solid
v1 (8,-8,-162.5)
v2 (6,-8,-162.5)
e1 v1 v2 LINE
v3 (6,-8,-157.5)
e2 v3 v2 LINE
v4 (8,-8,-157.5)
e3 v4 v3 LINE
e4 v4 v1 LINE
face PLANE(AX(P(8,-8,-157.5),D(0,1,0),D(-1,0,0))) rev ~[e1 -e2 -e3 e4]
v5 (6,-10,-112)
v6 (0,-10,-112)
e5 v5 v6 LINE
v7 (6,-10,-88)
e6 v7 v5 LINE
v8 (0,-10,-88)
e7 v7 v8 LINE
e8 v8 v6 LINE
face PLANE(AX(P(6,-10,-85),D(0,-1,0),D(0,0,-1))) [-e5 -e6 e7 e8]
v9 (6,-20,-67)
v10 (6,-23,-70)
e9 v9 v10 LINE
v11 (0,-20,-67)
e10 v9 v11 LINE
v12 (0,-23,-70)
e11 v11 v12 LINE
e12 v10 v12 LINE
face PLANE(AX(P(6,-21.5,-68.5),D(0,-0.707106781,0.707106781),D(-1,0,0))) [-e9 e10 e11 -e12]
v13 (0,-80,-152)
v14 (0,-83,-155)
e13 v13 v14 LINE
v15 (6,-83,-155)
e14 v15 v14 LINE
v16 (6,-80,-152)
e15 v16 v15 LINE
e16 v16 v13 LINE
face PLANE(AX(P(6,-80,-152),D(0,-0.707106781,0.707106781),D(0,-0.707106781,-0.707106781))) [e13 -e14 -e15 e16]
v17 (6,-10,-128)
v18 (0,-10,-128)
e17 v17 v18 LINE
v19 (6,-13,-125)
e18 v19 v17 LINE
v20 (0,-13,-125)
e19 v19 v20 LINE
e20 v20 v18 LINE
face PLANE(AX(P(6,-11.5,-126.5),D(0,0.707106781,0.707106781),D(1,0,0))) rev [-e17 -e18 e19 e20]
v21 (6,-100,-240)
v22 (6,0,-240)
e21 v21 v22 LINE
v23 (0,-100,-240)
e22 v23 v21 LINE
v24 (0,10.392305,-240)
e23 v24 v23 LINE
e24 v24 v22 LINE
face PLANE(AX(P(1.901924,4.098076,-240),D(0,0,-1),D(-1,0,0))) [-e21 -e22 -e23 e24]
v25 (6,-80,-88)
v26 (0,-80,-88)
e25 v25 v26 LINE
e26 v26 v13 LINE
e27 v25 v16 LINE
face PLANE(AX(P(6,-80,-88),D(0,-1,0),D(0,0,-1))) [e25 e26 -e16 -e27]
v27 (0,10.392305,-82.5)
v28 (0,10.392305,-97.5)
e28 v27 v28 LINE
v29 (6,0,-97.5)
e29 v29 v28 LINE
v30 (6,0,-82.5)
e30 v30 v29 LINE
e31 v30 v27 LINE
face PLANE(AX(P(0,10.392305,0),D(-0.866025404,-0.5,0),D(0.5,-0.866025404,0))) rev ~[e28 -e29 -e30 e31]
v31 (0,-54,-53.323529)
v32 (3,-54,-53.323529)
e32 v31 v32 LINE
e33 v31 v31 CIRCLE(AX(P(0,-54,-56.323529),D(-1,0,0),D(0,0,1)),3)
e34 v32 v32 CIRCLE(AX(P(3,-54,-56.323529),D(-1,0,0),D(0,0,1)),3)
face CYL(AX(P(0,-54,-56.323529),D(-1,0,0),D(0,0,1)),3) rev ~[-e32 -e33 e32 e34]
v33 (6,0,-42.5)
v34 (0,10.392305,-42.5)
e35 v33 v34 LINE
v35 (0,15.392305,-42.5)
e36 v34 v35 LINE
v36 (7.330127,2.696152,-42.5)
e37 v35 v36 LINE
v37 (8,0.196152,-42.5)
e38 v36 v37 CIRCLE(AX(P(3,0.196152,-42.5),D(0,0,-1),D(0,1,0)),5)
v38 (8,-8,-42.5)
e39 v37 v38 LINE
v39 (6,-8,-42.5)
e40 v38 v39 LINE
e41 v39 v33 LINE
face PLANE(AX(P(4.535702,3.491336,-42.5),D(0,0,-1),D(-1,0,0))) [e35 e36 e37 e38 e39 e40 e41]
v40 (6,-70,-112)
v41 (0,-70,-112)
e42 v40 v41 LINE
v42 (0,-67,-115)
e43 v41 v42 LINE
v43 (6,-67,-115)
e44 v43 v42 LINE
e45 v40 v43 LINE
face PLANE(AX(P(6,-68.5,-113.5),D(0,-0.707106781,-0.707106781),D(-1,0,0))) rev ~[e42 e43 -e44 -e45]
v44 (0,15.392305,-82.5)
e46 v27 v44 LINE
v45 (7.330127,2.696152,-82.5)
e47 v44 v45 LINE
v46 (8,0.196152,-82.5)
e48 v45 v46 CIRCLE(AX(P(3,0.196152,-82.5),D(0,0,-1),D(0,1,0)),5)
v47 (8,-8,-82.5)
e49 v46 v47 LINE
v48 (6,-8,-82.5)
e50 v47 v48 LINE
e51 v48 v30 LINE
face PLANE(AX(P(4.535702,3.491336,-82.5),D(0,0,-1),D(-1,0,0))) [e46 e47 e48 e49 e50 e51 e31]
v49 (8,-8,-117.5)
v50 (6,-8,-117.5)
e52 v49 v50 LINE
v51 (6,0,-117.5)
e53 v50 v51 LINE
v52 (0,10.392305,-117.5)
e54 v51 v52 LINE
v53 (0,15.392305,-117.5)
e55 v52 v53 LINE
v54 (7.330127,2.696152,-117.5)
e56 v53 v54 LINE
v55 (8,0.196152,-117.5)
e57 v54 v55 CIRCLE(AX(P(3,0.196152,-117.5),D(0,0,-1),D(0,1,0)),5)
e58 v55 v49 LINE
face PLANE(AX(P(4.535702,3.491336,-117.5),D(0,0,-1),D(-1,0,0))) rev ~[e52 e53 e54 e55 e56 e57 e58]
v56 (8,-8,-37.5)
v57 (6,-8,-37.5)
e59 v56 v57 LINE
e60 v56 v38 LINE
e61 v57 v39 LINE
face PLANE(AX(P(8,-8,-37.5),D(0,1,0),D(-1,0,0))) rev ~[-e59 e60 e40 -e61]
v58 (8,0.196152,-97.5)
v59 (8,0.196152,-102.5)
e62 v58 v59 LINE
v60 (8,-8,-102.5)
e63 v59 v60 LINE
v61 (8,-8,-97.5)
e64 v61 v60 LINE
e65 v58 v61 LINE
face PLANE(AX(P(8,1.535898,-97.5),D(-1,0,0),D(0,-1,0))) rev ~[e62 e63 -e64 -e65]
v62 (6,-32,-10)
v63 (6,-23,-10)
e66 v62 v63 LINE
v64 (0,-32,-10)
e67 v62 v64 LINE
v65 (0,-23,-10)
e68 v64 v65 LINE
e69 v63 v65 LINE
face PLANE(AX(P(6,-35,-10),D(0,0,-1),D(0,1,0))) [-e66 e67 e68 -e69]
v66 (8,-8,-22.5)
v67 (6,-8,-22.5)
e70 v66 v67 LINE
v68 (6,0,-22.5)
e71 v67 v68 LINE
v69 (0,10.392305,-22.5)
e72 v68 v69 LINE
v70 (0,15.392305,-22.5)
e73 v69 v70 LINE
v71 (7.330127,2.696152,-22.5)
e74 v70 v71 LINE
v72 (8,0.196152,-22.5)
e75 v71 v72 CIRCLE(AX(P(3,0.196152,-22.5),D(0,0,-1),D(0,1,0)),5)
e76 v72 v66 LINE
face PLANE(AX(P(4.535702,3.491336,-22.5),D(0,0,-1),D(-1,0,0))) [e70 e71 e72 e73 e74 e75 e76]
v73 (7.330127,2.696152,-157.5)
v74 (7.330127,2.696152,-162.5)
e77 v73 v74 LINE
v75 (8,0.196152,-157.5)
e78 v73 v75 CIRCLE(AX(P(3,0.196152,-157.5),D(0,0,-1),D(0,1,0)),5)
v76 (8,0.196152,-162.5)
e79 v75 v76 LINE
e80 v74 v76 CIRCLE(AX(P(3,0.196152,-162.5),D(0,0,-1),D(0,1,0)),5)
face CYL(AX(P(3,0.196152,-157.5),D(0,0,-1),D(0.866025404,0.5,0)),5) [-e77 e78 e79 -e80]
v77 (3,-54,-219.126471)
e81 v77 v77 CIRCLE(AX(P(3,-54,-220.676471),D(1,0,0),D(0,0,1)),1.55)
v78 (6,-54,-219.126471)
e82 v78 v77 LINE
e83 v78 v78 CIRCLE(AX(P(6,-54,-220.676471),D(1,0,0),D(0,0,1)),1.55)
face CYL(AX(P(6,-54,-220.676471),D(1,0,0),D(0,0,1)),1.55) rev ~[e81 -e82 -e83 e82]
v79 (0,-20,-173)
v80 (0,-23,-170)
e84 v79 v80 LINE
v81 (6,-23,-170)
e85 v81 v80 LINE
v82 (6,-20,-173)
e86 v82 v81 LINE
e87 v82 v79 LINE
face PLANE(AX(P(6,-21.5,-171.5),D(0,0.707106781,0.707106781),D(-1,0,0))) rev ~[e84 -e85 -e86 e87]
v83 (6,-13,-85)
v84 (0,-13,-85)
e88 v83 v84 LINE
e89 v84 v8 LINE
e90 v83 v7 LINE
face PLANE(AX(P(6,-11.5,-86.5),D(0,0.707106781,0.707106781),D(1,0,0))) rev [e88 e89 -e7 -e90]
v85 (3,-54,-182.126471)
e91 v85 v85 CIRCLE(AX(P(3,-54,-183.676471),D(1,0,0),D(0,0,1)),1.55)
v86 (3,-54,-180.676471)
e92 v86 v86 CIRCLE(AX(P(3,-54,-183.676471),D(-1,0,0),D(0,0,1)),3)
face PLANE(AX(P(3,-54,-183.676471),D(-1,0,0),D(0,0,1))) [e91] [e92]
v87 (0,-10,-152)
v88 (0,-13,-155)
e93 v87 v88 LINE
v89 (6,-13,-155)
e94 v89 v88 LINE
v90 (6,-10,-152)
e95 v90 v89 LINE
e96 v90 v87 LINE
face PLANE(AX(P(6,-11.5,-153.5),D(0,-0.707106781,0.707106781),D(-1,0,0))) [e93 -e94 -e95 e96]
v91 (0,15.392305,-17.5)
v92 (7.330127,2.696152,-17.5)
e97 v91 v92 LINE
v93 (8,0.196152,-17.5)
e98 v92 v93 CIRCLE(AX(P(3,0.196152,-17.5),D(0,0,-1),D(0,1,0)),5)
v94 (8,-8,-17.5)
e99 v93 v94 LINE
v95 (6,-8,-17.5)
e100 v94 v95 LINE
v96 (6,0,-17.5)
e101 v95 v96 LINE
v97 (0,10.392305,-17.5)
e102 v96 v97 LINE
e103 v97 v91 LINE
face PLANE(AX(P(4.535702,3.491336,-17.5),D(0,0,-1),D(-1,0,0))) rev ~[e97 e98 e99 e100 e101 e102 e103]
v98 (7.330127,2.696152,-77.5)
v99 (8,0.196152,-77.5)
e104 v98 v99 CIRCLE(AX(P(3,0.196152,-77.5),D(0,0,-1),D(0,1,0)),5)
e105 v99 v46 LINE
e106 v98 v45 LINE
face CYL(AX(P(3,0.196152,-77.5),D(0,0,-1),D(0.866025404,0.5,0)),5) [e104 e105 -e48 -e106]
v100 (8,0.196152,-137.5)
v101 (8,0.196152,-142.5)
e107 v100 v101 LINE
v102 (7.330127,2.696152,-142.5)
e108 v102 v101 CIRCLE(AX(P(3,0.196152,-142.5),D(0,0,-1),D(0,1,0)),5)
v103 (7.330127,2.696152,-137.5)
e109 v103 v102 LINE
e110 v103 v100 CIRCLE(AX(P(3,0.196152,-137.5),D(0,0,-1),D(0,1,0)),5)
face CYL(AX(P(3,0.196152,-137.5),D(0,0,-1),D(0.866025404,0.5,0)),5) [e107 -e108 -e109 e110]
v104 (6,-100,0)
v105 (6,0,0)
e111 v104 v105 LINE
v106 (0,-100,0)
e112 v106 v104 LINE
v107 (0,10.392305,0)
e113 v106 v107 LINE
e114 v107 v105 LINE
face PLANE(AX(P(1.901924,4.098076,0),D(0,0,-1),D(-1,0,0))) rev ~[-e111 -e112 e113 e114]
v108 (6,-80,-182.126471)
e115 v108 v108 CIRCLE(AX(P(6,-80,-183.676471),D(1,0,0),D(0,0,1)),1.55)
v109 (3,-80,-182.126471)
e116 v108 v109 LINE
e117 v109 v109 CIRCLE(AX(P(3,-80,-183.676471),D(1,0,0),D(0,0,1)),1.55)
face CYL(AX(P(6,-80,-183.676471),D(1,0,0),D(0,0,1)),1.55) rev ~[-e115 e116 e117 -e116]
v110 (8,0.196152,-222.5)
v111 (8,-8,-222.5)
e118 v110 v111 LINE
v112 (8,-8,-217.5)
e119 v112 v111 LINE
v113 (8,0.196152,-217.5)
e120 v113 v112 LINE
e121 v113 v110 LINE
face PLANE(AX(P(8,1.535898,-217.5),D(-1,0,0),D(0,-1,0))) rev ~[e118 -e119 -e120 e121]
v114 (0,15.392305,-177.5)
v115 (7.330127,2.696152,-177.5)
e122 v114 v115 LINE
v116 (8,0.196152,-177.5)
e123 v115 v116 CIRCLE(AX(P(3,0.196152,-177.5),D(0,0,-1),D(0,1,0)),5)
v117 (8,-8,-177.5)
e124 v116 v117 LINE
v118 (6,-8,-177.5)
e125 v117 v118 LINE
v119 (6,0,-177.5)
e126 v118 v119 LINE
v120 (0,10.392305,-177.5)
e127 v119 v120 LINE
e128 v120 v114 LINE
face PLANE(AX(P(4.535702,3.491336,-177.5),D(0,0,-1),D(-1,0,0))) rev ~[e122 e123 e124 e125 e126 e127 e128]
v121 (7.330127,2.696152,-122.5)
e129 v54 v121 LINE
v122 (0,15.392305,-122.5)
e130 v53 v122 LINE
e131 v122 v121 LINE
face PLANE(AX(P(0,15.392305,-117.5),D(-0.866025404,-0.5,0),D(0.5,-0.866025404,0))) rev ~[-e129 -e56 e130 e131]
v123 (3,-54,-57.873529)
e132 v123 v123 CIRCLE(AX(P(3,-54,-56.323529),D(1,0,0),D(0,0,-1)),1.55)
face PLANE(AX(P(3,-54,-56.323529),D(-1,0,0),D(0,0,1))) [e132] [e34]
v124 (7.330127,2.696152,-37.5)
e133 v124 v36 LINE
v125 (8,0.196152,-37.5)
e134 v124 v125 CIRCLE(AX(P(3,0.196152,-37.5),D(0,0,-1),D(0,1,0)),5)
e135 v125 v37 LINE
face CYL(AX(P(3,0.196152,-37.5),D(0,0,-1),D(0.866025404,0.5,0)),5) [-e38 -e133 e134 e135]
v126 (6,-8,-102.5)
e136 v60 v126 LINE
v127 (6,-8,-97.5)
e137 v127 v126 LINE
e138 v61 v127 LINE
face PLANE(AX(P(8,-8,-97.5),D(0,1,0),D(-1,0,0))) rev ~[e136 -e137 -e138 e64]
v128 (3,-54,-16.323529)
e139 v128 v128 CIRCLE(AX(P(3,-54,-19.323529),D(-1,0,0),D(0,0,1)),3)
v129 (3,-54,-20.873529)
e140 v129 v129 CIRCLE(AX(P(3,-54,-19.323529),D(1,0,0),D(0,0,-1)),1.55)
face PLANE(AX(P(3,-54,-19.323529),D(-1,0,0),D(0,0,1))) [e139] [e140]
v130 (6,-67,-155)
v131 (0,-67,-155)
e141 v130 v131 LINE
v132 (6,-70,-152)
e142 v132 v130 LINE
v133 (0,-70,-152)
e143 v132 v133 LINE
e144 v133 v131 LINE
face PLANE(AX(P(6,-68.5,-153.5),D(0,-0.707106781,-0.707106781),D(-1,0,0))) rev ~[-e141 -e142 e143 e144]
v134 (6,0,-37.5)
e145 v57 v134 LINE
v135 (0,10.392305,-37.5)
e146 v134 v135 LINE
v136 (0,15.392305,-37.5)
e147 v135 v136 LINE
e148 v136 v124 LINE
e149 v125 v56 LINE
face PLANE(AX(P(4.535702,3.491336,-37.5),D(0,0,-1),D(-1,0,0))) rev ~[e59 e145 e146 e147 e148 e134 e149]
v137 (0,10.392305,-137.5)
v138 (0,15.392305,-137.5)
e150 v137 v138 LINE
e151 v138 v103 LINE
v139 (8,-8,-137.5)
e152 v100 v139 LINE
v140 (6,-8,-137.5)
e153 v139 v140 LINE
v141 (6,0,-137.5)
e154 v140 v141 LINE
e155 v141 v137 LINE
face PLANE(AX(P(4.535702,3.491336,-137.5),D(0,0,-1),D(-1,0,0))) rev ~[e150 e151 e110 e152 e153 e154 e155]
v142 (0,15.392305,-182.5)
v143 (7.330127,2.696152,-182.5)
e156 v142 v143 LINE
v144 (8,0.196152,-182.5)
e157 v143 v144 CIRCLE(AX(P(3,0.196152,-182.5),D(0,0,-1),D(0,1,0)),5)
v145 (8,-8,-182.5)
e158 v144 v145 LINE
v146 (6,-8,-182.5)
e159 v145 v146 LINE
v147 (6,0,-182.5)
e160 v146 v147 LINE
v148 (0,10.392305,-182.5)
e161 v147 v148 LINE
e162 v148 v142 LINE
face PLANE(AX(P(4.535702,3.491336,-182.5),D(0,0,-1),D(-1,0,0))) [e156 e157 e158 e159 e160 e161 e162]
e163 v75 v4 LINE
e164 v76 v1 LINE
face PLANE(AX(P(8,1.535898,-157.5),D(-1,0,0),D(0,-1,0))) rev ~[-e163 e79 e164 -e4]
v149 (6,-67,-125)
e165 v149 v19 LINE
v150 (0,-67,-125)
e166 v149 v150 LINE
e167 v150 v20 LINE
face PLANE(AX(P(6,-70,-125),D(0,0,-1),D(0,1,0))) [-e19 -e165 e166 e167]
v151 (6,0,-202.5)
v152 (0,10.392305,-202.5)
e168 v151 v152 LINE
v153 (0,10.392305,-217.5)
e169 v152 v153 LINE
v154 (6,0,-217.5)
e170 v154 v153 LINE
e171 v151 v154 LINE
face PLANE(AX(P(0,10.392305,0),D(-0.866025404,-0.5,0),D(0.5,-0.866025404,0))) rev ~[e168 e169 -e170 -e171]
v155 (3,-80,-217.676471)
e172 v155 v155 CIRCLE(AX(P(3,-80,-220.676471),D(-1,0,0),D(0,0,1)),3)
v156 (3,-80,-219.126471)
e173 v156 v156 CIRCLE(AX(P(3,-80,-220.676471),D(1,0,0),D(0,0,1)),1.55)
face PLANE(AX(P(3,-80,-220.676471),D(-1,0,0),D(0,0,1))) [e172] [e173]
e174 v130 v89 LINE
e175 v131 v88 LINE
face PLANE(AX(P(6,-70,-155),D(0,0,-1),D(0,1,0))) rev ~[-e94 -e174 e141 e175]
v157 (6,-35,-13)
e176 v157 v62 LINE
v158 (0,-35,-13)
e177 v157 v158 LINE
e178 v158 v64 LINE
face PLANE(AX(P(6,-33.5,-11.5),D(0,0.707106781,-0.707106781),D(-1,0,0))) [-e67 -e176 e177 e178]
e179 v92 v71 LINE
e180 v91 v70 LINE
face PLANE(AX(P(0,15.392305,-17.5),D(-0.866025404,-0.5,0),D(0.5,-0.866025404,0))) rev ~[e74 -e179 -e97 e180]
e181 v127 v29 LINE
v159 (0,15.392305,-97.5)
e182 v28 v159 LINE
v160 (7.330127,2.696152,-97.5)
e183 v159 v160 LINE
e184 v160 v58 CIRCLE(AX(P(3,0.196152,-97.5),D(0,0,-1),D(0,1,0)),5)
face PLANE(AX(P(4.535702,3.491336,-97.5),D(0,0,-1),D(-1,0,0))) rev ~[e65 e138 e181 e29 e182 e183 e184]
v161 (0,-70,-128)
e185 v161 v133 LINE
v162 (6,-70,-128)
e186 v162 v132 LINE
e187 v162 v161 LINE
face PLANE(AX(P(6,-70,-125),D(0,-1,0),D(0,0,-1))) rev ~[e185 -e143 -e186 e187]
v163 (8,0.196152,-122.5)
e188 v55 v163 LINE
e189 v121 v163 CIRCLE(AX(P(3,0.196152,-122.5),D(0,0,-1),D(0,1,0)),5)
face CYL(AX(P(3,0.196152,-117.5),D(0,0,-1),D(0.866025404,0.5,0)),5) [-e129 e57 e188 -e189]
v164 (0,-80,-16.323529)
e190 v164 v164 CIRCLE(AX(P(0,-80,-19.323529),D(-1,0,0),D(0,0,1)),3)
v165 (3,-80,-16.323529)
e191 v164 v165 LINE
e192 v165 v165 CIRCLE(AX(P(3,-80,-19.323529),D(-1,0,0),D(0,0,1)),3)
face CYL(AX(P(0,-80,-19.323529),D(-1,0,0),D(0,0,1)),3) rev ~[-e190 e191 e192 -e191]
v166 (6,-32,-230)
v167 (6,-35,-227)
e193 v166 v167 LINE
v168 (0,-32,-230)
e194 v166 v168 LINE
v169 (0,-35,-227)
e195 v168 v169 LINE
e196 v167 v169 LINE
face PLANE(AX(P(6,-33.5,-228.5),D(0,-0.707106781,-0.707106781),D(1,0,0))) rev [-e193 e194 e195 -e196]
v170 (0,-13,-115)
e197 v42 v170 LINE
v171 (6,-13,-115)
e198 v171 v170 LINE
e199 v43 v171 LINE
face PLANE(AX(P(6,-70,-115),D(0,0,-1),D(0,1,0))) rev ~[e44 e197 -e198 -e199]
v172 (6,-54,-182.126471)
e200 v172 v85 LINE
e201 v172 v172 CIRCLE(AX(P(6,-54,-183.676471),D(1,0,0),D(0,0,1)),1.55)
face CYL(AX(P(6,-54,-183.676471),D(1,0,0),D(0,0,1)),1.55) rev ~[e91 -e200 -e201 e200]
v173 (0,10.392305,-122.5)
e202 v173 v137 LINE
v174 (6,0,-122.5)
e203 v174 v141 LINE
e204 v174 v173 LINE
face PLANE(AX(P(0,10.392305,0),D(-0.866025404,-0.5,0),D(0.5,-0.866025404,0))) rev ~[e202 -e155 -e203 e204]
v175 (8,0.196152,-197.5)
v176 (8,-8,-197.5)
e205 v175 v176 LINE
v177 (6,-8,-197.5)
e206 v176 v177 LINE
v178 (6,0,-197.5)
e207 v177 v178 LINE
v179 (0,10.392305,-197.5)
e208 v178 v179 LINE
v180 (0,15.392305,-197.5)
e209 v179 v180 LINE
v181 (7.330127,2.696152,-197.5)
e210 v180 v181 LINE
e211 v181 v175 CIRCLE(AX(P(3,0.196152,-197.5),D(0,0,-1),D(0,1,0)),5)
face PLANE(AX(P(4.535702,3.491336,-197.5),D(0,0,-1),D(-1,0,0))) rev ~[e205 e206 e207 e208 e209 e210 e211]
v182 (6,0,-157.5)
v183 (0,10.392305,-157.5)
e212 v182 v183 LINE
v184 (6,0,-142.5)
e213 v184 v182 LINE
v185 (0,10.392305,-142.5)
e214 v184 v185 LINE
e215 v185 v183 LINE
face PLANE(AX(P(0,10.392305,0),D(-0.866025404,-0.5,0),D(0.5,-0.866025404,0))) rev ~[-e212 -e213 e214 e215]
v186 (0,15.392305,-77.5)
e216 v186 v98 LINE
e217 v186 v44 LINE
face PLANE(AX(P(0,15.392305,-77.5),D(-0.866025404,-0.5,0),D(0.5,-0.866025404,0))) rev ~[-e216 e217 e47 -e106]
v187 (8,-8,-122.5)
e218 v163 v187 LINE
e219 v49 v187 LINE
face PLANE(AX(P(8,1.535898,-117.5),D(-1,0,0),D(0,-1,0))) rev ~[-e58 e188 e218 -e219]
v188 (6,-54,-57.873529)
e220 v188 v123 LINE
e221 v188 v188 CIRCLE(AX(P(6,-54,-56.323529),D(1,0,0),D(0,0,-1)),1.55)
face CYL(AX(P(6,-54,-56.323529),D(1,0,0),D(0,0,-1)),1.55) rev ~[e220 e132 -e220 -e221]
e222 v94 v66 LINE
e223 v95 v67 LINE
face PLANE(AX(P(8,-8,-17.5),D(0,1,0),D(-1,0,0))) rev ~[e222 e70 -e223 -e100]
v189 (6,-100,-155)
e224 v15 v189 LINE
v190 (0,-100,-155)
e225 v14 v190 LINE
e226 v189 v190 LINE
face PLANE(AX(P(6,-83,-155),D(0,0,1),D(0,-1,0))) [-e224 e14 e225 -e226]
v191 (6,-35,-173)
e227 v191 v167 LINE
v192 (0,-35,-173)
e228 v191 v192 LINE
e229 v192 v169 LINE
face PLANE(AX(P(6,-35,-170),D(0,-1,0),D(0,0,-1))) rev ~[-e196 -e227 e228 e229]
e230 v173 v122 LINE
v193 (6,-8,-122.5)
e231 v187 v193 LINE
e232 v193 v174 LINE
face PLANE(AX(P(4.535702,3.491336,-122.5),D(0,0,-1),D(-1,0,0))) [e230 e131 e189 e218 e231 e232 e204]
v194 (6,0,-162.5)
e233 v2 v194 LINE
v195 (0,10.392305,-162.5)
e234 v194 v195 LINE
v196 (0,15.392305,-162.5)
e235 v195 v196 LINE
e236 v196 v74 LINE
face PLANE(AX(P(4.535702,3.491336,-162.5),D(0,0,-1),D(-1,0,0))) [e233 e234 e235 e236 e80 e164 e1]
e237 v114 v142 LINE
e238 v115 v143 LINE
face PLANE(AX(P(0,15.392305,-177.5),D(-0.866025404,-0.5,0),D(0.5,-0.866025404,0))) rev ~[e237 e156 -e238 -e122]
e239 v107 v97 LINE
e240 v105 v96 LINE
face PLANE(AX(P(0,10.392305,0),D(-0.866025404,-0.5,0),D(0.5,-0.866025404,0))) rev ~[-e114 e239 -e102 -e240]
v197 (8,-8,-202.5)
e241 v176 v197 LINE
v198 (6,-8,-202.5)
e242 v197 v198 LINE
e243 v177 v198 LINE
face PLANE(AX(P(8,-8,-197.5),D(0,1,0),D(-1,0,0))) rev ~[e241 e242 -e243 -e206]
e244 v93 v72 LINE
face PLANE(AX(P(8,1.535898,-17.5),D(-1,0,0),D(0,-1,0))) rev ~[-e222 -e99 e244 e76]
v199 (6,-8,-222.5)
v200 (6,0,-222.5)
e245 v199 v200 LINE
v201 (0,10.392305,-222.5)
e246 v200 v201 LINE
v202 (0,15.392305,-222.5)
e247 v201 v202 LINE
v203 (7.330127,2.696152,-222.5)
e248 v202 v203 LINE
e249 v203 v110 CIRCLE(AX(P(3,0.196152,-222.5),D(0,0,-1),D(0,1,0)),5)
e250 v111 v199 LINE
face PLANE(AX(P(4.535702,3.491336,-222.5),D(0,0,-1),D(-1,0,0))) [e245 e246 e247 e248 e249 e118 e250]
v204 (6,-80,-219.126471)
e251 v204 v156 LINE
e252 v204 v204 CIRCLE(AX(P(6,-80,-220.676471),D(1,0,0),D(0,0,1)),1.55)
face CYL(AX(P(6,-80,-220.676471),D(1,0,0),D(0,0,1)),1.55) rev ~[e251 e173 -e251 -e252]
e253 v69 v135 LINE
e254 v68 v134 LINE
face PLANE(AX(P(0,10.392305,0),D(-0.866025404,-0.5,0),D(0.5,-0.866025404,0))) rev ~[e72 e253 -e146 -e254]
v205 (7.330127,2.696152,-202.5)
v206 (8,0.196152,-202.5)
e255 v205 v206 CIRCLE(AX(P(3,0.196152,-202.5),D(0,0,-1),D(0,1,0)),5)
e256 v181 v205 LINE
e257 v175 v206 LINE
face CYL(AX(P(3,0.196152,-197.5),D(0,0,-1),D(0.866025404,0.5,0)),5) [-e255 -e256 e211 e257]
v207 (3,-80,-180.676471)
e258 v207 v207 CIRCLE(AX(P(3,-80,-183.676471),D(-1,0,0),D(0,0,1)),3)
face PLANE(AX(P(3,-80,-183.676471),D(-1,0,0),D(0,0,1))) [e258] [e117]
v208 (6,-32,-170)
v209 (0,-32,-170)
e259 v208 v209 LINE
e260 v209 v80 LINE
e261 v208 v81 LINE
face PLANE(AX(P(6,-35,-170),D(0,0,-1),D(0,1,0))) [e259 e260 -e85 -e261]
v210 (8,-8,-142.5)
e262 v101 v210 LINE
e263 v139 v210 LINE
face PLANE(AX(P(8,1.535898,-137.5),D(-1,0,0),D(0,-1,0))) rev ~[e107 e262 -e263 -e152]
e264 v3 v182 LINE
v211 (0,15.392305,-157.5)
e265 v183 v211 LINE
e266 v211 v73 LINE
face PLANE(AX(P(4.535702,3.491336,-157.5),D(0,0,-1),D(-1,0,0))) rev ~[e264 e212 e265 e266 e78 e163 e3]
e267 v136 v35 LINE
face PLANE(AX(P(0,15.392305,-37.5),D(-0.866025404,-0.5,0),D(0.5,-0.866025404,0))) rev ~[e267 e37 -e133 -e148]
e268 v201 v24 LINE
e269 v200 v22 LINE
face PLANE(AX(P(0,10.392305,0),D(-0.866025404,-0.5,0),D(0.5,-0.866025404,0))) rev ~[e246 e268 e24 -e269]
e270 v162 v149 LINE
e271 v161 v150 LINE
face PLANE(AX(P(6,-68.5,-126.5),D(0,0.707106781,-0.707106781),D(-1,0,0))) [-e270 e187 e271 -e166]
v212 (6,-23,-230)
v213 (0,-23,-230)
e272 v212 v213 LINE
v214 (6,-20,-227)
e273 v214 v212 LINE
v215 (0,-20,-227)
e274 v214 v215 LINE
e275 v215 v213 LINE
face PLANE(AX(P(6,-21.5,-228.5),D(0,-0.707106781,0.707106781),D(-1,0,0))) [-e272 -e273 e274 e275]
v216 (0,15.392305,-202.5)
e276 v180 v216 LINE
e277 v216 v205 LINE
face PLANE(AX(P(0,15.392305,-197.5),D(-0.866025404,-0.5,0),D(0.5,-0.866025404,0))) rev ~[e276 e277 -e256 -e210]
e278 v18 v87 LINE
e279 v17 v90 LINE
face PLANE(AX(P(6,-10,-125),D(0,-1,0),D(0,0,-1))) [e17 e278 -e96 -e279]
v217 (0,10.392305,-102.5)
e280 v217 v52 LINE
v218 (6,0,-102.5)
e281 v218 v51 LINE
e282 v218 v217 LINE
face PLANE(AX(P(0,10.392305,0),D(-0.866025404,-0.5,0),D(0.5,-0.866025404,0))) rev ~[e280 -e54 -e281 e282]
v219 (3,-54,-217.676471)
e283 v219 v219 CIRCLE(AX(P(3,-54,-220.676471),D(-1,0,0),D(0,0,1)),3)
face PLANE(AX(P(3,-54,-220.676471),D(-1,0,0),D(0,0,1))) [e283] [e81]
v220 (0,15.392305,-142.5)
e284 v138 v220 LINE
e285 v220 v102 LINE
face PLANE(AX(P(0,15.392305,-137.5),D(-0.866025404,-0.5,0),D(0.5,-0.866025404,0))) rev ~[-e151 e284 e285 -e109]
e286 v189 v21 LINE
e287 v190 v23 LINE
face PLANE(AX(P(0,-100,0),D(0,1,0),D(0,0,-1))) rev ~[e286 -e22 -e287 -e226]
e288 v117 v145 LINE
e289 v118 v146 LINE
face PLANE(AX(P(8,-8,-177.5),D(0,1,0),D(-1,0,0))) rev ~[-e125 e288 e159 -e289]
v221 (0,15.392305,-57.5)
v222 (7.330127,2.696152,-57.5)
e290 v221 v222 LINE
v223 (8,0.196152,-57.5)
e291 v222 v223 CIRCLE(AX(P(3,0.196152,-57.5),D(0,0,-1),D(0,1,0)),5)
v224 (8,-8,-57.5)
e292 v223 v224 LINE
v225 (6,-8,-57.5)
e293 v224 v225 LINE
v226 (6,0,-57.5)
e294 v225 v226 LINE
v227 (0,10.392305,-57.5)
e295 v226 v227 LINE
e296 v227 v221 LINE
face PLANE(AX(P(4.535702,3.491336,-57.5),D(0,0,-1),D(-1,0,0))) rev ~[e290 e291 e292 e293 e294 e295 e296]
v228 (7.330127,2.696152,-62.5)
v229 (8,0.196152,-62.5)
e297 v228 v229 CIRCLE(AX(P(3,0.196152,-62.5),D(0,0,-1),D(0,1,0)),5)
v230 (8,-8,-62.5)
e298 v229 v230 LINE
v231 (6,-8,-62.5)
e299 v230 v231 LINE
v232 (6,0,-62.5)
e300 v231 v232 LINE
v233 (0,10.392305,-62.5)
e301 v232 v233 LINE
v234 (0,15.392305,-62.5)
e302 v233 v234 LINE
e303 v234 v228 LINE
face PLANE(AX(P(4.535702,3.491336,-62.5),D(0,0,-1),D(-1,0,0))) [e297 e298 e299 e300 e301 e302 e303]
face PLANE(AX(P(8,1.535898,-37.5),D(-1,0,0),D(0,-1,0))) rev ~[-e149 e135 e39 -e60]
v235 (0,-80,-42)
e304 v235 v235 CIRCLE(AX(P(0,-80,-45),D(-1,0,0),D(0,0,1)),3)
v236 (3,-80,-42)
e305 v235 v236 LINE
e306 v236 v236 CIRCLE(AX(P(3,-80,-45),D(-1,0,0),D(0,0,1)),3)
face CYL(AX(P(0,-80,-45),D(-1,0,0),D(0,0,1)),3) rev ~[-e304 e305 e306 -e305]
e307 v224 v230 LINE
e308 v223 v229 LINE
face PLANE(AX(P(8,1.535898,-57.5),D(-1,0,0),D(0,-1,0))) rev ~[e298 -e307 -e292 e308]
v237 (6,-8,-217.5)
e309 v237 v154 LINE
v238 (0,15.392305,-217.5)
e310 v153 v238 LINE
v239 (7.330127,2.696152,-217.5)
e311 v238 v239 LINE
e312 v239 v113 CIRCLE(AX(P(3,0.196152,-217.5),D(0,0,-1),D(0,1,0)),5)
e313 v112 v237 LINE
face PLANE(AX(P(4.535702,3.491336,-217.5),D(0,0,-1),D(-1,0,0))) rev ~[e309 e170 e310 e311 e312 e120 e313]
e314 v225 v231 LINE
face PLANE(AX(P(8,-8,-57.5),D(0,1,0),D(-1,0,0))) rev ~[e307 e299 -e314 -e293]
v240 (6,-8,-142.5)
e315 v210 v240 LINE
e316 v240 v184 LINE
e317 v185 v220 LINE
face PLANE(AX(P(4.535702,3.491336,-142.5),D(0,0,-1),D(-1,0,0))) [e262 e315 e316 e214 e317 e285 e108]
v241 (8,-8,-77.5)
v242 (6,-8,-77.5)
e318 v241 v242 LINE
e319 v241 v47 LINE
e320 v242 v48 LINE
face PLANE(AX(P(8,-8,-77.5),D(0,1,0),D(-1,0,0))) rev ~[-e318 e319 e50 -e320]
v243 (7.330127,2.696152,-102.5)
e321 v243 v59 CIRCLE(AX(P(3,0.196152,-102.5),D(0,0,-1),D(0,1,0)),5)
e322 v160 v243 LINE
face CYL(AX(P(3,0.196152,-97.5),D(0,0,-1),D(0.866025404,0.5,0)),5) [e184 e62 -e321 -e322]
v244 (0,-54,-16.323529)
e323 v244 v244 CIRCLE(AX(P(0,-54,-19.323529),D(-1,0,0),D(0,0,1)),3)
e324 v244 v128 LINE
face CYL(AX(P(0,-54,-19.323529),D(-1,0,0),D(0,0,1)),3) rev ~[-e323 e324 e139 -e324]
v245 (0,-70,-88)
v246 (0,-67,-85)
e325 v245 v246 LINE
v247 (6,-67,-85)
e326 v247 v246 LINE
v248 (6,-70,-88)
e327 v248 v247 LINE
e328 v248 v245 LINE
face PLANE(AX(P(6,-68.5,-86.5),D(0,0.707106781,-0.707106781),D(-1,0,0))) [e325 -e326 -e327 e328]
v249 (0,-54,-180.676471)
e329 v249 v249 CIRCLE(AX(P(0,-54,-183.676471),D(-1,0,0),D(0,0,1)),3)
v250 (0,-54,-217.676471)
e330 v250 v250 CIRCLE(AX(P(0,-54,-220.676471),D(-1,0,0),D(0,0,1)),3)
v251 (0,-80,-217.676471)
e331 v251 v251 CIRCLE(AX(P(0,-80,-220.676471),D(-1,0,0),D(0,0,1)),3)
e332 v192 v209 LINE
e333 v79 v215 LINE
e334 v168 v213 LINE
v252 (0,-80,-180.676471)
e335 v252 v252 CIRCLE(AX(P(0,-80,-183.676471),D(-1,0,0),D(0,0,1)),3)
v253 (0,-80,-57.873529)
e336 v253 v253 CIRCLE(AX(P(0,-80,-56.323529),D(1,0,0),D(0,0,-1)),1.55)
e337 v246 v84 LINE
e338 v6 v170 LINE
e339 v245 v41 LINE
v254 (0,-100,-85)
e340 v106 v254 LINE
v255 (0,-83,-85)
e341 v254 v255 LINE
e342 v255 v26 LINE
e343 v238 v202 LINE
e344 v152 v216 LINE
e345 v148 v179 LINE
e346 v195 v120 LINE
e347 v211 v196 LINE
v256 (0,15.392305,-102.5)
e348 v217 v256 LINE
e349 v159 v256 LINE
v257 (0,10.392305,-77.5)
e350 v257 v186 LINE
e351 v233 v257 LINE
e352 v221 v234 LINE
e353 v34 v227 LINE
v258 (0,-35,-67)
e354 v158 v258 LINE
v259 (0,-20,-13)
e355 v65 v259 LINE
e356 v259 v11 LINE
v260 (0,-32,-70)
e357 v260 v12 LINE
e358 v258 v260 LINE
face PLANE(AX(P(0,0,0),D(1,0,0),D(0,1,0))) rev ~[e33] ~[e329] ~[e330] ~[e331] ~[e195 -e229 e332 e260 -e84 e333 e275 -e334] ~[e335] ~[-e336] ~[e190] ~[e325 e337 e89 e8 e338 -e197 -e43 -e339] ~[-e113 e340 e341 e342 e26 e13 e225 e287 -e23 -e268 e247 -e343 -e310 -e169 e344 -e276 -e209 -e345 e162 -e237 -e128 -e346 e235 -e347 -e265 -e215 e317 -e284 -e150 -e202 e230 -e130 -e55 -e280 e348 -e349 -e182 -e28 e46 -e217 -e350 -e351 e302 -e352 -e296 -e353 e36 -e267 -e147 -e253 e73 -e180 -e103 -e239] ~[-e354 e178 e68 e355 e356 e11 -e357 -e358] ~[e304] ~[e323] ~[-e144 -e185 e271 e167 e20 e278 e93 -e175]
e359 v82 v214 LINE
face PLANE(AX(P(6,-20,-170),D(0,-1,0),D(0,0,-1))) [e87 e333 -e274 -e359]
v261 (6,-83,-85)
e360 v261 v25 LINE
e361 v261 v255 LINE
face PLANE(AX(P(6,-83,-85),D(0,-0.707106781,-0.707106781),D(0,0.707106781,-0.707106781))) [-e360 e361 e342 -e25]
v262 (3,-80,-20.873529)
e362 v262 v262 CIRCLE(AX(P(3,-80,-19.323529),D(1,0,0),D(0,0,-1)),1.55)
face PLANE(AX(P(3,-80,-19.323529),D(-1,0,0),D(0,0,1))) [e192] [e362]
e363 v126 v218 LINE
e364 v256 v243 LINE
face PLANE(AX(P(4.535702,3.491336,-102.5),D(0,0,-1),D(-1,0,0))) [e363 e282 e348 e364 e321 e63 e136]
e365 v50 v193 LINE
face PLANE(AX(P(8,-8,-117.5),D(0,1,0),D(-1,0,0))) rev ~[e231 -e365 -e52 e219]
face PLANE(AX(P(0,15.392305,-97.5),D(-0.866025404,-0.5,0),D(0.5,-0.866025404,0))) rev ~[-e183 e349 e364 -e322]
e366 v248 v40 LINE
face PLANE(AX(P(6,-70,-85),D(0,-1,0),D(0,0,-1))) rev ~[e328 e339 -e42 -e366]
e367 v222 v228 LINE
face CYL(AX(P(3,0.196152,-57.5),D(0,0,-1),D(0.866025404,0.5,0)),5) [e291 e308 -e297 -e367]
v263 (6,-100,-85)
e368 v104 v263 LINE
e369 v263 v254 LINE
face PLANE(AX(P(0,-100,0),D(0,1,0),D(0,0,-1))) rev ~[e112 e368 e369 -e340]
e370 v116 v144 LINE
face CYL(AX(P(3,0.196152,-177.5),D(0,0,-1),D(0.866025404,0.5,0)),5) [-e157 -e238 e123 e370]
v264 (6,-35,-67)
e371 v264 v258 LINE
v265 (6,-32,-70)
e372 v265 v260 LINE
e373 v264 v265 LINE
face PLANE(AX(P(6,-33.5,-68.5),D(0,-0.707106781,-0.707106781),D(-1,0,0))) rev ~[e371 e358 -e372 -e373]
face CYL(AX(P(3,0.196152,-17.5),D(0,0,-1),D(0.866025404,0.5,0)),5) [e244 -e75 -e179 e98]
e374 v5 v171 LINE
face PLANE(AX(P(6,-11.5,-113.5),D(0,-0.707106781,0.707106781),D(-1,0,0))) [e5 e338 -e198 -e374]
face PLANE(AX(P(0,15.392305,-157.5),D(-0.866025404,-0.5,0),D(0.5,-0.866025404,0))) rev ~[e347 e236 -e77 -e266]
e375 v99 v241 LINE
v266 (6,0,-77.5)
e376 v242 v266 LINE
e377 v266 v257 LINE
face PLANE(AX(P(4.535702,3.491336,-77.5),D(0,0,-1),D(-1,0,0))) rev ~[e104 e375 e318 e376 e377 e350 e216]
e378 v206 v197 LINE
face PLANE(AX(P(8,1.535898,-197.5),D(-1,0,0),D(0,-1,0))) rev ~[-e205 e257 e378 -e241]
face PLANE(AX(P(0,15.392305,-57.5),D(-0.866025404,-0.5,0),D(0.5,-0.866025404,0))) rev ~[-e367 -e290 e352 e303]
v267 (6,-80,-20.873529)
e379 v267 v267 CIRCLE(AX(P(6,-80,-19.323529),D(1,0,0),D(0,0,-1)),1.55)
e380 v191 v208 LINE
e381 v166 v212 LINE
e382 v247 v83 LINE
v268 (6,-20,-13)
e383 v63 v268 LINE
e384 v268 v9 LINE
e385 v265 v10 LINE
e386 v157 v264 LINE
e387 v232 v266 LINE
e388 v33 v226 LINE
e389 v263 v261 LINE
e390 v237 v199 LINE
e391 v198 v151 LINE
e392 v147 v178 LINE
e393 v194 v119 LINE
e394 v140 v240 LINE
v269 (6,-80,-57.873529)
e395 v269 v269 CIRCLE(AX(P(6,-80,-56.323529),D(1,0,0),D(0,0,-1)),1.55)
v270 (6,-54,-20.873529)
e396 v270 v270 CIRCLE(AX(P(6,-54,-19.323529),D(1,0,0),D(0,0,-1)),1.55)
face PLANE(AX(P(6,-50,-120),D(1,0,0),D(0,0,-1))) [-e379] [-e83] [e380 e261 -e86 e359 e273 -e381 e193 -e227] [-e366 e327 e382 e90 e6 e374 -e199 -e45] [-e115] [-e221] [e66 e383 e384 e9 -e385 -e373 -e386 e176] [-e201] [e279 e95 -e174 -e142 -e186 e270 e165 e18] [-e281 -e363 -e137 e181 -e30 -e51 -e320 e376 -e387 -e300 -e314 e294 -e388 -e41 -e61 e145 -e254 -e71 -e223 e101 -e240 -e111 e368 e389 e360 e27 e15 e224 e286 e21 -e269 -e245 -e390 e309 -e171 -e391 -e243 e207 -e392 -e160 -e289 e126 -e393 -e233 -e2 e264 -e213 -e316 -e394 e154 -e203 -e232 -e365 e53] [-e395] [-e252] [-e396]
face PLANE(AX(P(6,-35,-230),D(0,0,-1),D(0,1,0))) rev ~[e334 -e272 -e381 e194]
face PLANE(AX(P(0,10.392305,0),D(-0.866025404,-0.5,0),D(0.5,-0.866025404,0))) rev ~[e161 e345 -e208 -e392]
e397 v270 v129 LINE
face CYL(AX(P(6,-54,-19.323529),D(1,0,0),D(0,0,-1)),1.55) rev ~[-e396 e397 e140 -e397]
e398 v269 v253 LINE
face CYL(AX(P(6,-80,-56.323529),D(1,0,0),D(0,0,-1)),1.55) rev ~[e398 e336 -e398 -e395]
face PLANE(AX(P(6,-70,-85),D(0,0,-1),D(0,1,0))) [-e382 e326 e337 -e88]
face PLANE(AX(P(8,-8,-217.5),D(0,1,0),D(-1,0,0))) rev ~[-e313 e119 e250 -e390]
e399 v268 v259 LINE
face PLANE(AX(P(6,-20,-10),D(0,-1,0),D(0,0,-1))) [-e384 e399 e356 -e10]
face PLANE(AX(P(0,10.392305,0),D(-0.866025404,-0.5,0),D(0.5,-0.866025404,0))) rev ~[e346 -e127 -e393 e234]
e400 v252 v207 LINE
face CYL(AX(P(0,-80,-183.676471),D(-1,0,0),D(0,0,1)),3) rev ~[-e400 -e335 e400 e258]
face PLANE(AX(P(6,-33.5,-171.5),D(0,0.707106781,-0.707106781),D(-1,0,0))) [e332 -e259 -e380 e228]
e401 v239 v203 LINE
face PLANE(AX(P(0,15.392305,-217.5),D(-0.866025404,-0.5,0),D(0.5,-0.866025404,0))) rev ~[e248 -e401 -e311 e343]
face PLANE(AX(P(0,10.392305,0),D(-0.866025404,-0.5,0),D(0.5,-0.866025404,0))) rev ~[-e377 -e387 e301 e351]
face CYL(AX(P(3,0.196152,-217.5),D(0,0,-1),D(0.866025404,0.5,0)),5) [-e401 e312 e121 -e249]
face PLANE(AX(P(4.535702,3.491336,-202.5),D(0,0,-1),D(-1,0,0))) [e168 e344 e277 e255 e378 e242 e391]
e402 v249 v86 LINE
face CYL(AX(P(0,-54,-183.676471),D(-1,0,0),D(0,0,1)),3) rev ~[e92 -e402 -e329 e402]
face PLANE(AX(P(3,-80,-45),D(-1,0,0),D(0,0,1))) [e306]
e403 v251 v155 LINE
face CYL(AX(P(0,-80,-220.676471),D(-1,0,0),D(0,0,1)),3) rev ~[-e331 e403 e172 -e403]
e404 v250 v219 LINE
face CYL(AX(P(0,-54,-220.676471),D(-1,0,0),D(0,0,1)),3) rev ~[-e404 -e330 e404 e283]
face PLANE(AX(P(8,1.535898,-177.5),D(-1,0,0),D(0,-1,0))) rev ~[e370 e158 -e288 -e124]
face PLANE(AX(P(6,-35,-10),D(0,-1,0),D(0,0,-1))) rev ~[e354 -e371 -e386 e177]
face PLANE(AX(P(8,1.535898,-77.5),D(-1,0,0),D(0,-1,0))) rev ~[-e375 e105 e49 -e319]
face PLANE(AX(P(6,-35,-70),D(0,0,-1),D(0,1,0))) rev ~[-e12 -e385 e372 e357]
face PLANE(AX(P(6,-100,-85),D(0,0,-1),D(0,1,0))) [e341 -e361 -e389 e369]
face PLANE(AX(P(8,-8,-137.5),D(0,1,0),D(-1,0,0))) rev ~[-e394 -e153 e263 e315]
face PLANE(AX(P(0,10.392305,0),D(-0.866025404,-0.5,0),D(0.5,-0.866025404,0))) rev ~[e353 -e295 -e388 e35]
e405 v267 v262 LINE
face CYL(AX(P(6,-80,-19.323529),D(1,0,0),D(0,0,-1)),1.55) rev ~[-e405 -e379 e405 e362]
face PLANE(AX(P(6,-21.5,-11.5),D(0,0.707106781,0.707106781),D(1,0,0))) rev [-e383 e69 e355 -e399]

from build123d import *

# Parameters (mm, degrees)
SKETCH_1_W                 = 240
SKETCH_1_H                 = 100
EXTRUDE_1_DEPTH            = 6
SKETCH_2_R                 = 1.55
CUT_EXTRUDE_1_DEPTH        = 261.069221555
SKETCH_3_W                 = 60
SKETCH_3_H                 = 15
CUT_EXTRUDE_2_DEPTH        = 261.069221555
SKETCH_4_W                 = 30
SKETCH_4_H                 = 60
CUT_EXTRUDE_3_DEPTH        = 261.069221555
SKETCH_5_R                 = 3
CUT_EXTRUDE_4_DEPTH        = 3
EXTRUDE_2_DEPTH            = 240
EXTRUDE_3_DEPTH            = 5
PATTERN_LINEAR_5_COUNT     = 6
PATTERN_LINEAR_5_PITCH     = 20
PATTERN_LINEAR_5_COL_COUNT = 6
PATTERN_LINEAR_5_COL_PITCH = 20
FILLET_5_R                 = 5
CHAMFER_1_SIZE             = 3
CUT_EXTRUDE_7_DEPTH        = 261.069221555


with BuildPart() as part:
    # 草图1 → 凸台-拉伸1 (new body)
    with BuildSketch(Plane(origin=(0, 0, 0), x_dir=(0, 0, -1), z_dir=(1, 0, 0))):
        with Locations((120, -50)):
            Rectangle(SKETCH_1_W, SKETCH_1_H)
    extrude(amount=EXTRUDE_1_DEPTH)

    # 草图2 → 切除-拉伸1 (cut, through all)
    with BuildSketch(Plane(origin=(6, 0, 0), x_dir=(0, 0, -1), z_dir=(1, 0, 0))):
        with Locations((19.32352941, -54)):
            Circle(SKETCH_2_R)
        with Locations((56.32352941, -80)):
            Circle(SKETCH_2_R)
        with Locations((56.32352941, -54)):
            Circle(SKETCH_2_R)
        with Locations((19.32352941, -80)):
            Circle(SKETCH_2_R)
        with Locations(Location((220.67647059, -80, 0), (0, 0, 180))):
            Circle(SKETCH_2_R)
        with Locations(Location((183.67647059, -54, 0), (0, 0, 180))):
            Circle(SKETCH_2_R)
        with Locations(Location((183.67647059, -80, 0), (0, 0, 180))):
            Circle(SKETCH_2_R)
        with Locations(Location((220.67647059, -54, 0), (0, 0, 180))):
            Circle(SKETCH_2_R)
    extrude(amount=-CUT_EXTRUDE_1_DEPTH, mode=Mode.SUBTRACT)

    # 草图3 → 切除-拉伸2 (cut, through all)
    with BuildSketch(Plane(origin=(6, 0, 0), x_dir=(0, 0, -1), z_dir=(1, 0, 0))):
        with Locations((40, -27.5)):
            Rectangle(SKETCH_3_W, SKETCH_3_H)
        with Locations((200, -27.5)):
            Rectangle(SKETCH_3_W, SKETCH_3_H)
    extrude(amount=-CUT_EXTRUDE_2_DEPTH, mode=Mode.SUBTRACT)

    # 草图4 → 切除-拉伸3 (cut, through all)
    with BuildSketch(Plane(origin=(6, 0, 0), x_dir=(0, 0, -1), z_dir=(1, 0, 0))):
        with Locations((100, -40)):
            Rectangle(SKETCH_4_W, SKETCH_4_H)
        with Locations((140, -40)):
            Rectangle(SKETCH_4_W, SKETCH_4_H)
    extrude(amount=-CUT_EXTRUDE_3_DEPTH, mode=Mode.SUBTRACT)

    # 草图5 → 切除-拉伸4 (cut)
    with BuildSketch(Plane.ZY):
        with Locations((-183.67647059, -80)):
            Circle(SKETCH_5_R)
        with Locations((-220.67647059, -80)):
            Circle(SKETCH_5_R)
        with Locations((-183.67647059, -54)):
            Circle(SKETCH_5_R)
        with Locations((-220.67647059, -54)):
            Circle(SKETCH_5_R)
        with Locations((-45, -80)):
            Circle(SKETCH_5_R)
        with Locations((-19.32352941, -80)):
            Circle(SKETCH_5_R)
        with Locations((-19.32352941, -54)):
            Circle(SKETCH_5_R)
        with Locations((-56.32352941, -54)):
            Circle(SKETCH_5_R)
    extrude(amount=-CUT_EXTRUDE_4_DEPTH, mode=Mode.SUBTRACT)

    # 草图6 → 凸台-拉伸2 (add)
    with BuildSketch(Plane.XY):
        Polygon((6, 0), (0, 0), (0, 10.392304845), align=None)
    extrude(amount=-EXTRUDE_2_DEPTH)

    # 草图7 → 凸台-拉伸3 (add)
    with BuildSketch(Plane.XY.offset(-117.5)):
        Polygon((0, 10.392304845), (0, 15.392304845), (8, 1.535898385), (8, -8), (6, -8), (6, 0), align=None)
    extrude_3 = extrude(amount=-EXTRUDE_3_DEPTH)

    # 阵列(线性)5: 凸台-拉伸3 ×6
    with Locations(*[(0, 0, i * PATTERN_LINEAR_5_PITCH) for i in range(1, PATTERN_LINEAR_5_COUNT)]):
        add(extrude_3)

    # 阵列(线性)5 col: 凸台-拉伸3 ×6
    with Locations(*[(0, 0, -i * PATTERN_LINEAR_5_COL_PITCH) for i in range(1, PATTERN_LINEAR_5_COL_COUNT)]):
        add(extrude_3)

    # 圆角5
    fillet_5_edges = [part.edges().sort_by_distance(p)[0] for p in [
        (8, 1.535898385, -120),
        (8, 1.535898385, -140),
        (8, 1.535898385, -160),
        (8, 1.535898385, -180),
        (8, 1.535898385, -200),
        (8, 1.535898385, -220),
        (8, 1.535898385, -100),
        (8, 1.535898385, -80),
        (8, 1.535898385, -60),
        (8, 1.535898385, -40),
        (8, 1.535898385, -20),
    ]]
    fillet(fillet_5_edges, radius=FILLET_5_R)

    # 倒角1
    chamfer_1_edges = [part.edges().sort_by_distance(p)[0] for p in [
        (3, -35, -10),
        (3, -20, -10),
        (3, -20, -70),
        (3, -35, -70),
        (3, -20, -170),
        (3, -20, -230),
        (3, -35, -230),
        (3, -35, -170),
        (3, -10, -115),
        (3, -70, -115),
        (3, -70, -85),
        (3, -10, -85),
        (3, -10, -125),
        (3, -10, -155),
        (3, -70, -155),
        (3, -70, -125),
    ]]
    chamfer(chamfer_1_edges, length=CHAMFER_1_SIZE)

    # 草图8 → 切除-拉伸7 (cut, through all)
    with BuildSketch(Plane(origin=(6, 0, 0), x_dir=(0, 0, -1), z_dir=(1, 0, 0))):
        Polygon((85, -100), (85, -83), (88, -80), (152, -80), (155, -83), (155, -100), align=None)
    extrude(amount=-CUT_EXTRUDE_7_DEPTH, mode=Mode.SUBTRACT)


solid = part.part
